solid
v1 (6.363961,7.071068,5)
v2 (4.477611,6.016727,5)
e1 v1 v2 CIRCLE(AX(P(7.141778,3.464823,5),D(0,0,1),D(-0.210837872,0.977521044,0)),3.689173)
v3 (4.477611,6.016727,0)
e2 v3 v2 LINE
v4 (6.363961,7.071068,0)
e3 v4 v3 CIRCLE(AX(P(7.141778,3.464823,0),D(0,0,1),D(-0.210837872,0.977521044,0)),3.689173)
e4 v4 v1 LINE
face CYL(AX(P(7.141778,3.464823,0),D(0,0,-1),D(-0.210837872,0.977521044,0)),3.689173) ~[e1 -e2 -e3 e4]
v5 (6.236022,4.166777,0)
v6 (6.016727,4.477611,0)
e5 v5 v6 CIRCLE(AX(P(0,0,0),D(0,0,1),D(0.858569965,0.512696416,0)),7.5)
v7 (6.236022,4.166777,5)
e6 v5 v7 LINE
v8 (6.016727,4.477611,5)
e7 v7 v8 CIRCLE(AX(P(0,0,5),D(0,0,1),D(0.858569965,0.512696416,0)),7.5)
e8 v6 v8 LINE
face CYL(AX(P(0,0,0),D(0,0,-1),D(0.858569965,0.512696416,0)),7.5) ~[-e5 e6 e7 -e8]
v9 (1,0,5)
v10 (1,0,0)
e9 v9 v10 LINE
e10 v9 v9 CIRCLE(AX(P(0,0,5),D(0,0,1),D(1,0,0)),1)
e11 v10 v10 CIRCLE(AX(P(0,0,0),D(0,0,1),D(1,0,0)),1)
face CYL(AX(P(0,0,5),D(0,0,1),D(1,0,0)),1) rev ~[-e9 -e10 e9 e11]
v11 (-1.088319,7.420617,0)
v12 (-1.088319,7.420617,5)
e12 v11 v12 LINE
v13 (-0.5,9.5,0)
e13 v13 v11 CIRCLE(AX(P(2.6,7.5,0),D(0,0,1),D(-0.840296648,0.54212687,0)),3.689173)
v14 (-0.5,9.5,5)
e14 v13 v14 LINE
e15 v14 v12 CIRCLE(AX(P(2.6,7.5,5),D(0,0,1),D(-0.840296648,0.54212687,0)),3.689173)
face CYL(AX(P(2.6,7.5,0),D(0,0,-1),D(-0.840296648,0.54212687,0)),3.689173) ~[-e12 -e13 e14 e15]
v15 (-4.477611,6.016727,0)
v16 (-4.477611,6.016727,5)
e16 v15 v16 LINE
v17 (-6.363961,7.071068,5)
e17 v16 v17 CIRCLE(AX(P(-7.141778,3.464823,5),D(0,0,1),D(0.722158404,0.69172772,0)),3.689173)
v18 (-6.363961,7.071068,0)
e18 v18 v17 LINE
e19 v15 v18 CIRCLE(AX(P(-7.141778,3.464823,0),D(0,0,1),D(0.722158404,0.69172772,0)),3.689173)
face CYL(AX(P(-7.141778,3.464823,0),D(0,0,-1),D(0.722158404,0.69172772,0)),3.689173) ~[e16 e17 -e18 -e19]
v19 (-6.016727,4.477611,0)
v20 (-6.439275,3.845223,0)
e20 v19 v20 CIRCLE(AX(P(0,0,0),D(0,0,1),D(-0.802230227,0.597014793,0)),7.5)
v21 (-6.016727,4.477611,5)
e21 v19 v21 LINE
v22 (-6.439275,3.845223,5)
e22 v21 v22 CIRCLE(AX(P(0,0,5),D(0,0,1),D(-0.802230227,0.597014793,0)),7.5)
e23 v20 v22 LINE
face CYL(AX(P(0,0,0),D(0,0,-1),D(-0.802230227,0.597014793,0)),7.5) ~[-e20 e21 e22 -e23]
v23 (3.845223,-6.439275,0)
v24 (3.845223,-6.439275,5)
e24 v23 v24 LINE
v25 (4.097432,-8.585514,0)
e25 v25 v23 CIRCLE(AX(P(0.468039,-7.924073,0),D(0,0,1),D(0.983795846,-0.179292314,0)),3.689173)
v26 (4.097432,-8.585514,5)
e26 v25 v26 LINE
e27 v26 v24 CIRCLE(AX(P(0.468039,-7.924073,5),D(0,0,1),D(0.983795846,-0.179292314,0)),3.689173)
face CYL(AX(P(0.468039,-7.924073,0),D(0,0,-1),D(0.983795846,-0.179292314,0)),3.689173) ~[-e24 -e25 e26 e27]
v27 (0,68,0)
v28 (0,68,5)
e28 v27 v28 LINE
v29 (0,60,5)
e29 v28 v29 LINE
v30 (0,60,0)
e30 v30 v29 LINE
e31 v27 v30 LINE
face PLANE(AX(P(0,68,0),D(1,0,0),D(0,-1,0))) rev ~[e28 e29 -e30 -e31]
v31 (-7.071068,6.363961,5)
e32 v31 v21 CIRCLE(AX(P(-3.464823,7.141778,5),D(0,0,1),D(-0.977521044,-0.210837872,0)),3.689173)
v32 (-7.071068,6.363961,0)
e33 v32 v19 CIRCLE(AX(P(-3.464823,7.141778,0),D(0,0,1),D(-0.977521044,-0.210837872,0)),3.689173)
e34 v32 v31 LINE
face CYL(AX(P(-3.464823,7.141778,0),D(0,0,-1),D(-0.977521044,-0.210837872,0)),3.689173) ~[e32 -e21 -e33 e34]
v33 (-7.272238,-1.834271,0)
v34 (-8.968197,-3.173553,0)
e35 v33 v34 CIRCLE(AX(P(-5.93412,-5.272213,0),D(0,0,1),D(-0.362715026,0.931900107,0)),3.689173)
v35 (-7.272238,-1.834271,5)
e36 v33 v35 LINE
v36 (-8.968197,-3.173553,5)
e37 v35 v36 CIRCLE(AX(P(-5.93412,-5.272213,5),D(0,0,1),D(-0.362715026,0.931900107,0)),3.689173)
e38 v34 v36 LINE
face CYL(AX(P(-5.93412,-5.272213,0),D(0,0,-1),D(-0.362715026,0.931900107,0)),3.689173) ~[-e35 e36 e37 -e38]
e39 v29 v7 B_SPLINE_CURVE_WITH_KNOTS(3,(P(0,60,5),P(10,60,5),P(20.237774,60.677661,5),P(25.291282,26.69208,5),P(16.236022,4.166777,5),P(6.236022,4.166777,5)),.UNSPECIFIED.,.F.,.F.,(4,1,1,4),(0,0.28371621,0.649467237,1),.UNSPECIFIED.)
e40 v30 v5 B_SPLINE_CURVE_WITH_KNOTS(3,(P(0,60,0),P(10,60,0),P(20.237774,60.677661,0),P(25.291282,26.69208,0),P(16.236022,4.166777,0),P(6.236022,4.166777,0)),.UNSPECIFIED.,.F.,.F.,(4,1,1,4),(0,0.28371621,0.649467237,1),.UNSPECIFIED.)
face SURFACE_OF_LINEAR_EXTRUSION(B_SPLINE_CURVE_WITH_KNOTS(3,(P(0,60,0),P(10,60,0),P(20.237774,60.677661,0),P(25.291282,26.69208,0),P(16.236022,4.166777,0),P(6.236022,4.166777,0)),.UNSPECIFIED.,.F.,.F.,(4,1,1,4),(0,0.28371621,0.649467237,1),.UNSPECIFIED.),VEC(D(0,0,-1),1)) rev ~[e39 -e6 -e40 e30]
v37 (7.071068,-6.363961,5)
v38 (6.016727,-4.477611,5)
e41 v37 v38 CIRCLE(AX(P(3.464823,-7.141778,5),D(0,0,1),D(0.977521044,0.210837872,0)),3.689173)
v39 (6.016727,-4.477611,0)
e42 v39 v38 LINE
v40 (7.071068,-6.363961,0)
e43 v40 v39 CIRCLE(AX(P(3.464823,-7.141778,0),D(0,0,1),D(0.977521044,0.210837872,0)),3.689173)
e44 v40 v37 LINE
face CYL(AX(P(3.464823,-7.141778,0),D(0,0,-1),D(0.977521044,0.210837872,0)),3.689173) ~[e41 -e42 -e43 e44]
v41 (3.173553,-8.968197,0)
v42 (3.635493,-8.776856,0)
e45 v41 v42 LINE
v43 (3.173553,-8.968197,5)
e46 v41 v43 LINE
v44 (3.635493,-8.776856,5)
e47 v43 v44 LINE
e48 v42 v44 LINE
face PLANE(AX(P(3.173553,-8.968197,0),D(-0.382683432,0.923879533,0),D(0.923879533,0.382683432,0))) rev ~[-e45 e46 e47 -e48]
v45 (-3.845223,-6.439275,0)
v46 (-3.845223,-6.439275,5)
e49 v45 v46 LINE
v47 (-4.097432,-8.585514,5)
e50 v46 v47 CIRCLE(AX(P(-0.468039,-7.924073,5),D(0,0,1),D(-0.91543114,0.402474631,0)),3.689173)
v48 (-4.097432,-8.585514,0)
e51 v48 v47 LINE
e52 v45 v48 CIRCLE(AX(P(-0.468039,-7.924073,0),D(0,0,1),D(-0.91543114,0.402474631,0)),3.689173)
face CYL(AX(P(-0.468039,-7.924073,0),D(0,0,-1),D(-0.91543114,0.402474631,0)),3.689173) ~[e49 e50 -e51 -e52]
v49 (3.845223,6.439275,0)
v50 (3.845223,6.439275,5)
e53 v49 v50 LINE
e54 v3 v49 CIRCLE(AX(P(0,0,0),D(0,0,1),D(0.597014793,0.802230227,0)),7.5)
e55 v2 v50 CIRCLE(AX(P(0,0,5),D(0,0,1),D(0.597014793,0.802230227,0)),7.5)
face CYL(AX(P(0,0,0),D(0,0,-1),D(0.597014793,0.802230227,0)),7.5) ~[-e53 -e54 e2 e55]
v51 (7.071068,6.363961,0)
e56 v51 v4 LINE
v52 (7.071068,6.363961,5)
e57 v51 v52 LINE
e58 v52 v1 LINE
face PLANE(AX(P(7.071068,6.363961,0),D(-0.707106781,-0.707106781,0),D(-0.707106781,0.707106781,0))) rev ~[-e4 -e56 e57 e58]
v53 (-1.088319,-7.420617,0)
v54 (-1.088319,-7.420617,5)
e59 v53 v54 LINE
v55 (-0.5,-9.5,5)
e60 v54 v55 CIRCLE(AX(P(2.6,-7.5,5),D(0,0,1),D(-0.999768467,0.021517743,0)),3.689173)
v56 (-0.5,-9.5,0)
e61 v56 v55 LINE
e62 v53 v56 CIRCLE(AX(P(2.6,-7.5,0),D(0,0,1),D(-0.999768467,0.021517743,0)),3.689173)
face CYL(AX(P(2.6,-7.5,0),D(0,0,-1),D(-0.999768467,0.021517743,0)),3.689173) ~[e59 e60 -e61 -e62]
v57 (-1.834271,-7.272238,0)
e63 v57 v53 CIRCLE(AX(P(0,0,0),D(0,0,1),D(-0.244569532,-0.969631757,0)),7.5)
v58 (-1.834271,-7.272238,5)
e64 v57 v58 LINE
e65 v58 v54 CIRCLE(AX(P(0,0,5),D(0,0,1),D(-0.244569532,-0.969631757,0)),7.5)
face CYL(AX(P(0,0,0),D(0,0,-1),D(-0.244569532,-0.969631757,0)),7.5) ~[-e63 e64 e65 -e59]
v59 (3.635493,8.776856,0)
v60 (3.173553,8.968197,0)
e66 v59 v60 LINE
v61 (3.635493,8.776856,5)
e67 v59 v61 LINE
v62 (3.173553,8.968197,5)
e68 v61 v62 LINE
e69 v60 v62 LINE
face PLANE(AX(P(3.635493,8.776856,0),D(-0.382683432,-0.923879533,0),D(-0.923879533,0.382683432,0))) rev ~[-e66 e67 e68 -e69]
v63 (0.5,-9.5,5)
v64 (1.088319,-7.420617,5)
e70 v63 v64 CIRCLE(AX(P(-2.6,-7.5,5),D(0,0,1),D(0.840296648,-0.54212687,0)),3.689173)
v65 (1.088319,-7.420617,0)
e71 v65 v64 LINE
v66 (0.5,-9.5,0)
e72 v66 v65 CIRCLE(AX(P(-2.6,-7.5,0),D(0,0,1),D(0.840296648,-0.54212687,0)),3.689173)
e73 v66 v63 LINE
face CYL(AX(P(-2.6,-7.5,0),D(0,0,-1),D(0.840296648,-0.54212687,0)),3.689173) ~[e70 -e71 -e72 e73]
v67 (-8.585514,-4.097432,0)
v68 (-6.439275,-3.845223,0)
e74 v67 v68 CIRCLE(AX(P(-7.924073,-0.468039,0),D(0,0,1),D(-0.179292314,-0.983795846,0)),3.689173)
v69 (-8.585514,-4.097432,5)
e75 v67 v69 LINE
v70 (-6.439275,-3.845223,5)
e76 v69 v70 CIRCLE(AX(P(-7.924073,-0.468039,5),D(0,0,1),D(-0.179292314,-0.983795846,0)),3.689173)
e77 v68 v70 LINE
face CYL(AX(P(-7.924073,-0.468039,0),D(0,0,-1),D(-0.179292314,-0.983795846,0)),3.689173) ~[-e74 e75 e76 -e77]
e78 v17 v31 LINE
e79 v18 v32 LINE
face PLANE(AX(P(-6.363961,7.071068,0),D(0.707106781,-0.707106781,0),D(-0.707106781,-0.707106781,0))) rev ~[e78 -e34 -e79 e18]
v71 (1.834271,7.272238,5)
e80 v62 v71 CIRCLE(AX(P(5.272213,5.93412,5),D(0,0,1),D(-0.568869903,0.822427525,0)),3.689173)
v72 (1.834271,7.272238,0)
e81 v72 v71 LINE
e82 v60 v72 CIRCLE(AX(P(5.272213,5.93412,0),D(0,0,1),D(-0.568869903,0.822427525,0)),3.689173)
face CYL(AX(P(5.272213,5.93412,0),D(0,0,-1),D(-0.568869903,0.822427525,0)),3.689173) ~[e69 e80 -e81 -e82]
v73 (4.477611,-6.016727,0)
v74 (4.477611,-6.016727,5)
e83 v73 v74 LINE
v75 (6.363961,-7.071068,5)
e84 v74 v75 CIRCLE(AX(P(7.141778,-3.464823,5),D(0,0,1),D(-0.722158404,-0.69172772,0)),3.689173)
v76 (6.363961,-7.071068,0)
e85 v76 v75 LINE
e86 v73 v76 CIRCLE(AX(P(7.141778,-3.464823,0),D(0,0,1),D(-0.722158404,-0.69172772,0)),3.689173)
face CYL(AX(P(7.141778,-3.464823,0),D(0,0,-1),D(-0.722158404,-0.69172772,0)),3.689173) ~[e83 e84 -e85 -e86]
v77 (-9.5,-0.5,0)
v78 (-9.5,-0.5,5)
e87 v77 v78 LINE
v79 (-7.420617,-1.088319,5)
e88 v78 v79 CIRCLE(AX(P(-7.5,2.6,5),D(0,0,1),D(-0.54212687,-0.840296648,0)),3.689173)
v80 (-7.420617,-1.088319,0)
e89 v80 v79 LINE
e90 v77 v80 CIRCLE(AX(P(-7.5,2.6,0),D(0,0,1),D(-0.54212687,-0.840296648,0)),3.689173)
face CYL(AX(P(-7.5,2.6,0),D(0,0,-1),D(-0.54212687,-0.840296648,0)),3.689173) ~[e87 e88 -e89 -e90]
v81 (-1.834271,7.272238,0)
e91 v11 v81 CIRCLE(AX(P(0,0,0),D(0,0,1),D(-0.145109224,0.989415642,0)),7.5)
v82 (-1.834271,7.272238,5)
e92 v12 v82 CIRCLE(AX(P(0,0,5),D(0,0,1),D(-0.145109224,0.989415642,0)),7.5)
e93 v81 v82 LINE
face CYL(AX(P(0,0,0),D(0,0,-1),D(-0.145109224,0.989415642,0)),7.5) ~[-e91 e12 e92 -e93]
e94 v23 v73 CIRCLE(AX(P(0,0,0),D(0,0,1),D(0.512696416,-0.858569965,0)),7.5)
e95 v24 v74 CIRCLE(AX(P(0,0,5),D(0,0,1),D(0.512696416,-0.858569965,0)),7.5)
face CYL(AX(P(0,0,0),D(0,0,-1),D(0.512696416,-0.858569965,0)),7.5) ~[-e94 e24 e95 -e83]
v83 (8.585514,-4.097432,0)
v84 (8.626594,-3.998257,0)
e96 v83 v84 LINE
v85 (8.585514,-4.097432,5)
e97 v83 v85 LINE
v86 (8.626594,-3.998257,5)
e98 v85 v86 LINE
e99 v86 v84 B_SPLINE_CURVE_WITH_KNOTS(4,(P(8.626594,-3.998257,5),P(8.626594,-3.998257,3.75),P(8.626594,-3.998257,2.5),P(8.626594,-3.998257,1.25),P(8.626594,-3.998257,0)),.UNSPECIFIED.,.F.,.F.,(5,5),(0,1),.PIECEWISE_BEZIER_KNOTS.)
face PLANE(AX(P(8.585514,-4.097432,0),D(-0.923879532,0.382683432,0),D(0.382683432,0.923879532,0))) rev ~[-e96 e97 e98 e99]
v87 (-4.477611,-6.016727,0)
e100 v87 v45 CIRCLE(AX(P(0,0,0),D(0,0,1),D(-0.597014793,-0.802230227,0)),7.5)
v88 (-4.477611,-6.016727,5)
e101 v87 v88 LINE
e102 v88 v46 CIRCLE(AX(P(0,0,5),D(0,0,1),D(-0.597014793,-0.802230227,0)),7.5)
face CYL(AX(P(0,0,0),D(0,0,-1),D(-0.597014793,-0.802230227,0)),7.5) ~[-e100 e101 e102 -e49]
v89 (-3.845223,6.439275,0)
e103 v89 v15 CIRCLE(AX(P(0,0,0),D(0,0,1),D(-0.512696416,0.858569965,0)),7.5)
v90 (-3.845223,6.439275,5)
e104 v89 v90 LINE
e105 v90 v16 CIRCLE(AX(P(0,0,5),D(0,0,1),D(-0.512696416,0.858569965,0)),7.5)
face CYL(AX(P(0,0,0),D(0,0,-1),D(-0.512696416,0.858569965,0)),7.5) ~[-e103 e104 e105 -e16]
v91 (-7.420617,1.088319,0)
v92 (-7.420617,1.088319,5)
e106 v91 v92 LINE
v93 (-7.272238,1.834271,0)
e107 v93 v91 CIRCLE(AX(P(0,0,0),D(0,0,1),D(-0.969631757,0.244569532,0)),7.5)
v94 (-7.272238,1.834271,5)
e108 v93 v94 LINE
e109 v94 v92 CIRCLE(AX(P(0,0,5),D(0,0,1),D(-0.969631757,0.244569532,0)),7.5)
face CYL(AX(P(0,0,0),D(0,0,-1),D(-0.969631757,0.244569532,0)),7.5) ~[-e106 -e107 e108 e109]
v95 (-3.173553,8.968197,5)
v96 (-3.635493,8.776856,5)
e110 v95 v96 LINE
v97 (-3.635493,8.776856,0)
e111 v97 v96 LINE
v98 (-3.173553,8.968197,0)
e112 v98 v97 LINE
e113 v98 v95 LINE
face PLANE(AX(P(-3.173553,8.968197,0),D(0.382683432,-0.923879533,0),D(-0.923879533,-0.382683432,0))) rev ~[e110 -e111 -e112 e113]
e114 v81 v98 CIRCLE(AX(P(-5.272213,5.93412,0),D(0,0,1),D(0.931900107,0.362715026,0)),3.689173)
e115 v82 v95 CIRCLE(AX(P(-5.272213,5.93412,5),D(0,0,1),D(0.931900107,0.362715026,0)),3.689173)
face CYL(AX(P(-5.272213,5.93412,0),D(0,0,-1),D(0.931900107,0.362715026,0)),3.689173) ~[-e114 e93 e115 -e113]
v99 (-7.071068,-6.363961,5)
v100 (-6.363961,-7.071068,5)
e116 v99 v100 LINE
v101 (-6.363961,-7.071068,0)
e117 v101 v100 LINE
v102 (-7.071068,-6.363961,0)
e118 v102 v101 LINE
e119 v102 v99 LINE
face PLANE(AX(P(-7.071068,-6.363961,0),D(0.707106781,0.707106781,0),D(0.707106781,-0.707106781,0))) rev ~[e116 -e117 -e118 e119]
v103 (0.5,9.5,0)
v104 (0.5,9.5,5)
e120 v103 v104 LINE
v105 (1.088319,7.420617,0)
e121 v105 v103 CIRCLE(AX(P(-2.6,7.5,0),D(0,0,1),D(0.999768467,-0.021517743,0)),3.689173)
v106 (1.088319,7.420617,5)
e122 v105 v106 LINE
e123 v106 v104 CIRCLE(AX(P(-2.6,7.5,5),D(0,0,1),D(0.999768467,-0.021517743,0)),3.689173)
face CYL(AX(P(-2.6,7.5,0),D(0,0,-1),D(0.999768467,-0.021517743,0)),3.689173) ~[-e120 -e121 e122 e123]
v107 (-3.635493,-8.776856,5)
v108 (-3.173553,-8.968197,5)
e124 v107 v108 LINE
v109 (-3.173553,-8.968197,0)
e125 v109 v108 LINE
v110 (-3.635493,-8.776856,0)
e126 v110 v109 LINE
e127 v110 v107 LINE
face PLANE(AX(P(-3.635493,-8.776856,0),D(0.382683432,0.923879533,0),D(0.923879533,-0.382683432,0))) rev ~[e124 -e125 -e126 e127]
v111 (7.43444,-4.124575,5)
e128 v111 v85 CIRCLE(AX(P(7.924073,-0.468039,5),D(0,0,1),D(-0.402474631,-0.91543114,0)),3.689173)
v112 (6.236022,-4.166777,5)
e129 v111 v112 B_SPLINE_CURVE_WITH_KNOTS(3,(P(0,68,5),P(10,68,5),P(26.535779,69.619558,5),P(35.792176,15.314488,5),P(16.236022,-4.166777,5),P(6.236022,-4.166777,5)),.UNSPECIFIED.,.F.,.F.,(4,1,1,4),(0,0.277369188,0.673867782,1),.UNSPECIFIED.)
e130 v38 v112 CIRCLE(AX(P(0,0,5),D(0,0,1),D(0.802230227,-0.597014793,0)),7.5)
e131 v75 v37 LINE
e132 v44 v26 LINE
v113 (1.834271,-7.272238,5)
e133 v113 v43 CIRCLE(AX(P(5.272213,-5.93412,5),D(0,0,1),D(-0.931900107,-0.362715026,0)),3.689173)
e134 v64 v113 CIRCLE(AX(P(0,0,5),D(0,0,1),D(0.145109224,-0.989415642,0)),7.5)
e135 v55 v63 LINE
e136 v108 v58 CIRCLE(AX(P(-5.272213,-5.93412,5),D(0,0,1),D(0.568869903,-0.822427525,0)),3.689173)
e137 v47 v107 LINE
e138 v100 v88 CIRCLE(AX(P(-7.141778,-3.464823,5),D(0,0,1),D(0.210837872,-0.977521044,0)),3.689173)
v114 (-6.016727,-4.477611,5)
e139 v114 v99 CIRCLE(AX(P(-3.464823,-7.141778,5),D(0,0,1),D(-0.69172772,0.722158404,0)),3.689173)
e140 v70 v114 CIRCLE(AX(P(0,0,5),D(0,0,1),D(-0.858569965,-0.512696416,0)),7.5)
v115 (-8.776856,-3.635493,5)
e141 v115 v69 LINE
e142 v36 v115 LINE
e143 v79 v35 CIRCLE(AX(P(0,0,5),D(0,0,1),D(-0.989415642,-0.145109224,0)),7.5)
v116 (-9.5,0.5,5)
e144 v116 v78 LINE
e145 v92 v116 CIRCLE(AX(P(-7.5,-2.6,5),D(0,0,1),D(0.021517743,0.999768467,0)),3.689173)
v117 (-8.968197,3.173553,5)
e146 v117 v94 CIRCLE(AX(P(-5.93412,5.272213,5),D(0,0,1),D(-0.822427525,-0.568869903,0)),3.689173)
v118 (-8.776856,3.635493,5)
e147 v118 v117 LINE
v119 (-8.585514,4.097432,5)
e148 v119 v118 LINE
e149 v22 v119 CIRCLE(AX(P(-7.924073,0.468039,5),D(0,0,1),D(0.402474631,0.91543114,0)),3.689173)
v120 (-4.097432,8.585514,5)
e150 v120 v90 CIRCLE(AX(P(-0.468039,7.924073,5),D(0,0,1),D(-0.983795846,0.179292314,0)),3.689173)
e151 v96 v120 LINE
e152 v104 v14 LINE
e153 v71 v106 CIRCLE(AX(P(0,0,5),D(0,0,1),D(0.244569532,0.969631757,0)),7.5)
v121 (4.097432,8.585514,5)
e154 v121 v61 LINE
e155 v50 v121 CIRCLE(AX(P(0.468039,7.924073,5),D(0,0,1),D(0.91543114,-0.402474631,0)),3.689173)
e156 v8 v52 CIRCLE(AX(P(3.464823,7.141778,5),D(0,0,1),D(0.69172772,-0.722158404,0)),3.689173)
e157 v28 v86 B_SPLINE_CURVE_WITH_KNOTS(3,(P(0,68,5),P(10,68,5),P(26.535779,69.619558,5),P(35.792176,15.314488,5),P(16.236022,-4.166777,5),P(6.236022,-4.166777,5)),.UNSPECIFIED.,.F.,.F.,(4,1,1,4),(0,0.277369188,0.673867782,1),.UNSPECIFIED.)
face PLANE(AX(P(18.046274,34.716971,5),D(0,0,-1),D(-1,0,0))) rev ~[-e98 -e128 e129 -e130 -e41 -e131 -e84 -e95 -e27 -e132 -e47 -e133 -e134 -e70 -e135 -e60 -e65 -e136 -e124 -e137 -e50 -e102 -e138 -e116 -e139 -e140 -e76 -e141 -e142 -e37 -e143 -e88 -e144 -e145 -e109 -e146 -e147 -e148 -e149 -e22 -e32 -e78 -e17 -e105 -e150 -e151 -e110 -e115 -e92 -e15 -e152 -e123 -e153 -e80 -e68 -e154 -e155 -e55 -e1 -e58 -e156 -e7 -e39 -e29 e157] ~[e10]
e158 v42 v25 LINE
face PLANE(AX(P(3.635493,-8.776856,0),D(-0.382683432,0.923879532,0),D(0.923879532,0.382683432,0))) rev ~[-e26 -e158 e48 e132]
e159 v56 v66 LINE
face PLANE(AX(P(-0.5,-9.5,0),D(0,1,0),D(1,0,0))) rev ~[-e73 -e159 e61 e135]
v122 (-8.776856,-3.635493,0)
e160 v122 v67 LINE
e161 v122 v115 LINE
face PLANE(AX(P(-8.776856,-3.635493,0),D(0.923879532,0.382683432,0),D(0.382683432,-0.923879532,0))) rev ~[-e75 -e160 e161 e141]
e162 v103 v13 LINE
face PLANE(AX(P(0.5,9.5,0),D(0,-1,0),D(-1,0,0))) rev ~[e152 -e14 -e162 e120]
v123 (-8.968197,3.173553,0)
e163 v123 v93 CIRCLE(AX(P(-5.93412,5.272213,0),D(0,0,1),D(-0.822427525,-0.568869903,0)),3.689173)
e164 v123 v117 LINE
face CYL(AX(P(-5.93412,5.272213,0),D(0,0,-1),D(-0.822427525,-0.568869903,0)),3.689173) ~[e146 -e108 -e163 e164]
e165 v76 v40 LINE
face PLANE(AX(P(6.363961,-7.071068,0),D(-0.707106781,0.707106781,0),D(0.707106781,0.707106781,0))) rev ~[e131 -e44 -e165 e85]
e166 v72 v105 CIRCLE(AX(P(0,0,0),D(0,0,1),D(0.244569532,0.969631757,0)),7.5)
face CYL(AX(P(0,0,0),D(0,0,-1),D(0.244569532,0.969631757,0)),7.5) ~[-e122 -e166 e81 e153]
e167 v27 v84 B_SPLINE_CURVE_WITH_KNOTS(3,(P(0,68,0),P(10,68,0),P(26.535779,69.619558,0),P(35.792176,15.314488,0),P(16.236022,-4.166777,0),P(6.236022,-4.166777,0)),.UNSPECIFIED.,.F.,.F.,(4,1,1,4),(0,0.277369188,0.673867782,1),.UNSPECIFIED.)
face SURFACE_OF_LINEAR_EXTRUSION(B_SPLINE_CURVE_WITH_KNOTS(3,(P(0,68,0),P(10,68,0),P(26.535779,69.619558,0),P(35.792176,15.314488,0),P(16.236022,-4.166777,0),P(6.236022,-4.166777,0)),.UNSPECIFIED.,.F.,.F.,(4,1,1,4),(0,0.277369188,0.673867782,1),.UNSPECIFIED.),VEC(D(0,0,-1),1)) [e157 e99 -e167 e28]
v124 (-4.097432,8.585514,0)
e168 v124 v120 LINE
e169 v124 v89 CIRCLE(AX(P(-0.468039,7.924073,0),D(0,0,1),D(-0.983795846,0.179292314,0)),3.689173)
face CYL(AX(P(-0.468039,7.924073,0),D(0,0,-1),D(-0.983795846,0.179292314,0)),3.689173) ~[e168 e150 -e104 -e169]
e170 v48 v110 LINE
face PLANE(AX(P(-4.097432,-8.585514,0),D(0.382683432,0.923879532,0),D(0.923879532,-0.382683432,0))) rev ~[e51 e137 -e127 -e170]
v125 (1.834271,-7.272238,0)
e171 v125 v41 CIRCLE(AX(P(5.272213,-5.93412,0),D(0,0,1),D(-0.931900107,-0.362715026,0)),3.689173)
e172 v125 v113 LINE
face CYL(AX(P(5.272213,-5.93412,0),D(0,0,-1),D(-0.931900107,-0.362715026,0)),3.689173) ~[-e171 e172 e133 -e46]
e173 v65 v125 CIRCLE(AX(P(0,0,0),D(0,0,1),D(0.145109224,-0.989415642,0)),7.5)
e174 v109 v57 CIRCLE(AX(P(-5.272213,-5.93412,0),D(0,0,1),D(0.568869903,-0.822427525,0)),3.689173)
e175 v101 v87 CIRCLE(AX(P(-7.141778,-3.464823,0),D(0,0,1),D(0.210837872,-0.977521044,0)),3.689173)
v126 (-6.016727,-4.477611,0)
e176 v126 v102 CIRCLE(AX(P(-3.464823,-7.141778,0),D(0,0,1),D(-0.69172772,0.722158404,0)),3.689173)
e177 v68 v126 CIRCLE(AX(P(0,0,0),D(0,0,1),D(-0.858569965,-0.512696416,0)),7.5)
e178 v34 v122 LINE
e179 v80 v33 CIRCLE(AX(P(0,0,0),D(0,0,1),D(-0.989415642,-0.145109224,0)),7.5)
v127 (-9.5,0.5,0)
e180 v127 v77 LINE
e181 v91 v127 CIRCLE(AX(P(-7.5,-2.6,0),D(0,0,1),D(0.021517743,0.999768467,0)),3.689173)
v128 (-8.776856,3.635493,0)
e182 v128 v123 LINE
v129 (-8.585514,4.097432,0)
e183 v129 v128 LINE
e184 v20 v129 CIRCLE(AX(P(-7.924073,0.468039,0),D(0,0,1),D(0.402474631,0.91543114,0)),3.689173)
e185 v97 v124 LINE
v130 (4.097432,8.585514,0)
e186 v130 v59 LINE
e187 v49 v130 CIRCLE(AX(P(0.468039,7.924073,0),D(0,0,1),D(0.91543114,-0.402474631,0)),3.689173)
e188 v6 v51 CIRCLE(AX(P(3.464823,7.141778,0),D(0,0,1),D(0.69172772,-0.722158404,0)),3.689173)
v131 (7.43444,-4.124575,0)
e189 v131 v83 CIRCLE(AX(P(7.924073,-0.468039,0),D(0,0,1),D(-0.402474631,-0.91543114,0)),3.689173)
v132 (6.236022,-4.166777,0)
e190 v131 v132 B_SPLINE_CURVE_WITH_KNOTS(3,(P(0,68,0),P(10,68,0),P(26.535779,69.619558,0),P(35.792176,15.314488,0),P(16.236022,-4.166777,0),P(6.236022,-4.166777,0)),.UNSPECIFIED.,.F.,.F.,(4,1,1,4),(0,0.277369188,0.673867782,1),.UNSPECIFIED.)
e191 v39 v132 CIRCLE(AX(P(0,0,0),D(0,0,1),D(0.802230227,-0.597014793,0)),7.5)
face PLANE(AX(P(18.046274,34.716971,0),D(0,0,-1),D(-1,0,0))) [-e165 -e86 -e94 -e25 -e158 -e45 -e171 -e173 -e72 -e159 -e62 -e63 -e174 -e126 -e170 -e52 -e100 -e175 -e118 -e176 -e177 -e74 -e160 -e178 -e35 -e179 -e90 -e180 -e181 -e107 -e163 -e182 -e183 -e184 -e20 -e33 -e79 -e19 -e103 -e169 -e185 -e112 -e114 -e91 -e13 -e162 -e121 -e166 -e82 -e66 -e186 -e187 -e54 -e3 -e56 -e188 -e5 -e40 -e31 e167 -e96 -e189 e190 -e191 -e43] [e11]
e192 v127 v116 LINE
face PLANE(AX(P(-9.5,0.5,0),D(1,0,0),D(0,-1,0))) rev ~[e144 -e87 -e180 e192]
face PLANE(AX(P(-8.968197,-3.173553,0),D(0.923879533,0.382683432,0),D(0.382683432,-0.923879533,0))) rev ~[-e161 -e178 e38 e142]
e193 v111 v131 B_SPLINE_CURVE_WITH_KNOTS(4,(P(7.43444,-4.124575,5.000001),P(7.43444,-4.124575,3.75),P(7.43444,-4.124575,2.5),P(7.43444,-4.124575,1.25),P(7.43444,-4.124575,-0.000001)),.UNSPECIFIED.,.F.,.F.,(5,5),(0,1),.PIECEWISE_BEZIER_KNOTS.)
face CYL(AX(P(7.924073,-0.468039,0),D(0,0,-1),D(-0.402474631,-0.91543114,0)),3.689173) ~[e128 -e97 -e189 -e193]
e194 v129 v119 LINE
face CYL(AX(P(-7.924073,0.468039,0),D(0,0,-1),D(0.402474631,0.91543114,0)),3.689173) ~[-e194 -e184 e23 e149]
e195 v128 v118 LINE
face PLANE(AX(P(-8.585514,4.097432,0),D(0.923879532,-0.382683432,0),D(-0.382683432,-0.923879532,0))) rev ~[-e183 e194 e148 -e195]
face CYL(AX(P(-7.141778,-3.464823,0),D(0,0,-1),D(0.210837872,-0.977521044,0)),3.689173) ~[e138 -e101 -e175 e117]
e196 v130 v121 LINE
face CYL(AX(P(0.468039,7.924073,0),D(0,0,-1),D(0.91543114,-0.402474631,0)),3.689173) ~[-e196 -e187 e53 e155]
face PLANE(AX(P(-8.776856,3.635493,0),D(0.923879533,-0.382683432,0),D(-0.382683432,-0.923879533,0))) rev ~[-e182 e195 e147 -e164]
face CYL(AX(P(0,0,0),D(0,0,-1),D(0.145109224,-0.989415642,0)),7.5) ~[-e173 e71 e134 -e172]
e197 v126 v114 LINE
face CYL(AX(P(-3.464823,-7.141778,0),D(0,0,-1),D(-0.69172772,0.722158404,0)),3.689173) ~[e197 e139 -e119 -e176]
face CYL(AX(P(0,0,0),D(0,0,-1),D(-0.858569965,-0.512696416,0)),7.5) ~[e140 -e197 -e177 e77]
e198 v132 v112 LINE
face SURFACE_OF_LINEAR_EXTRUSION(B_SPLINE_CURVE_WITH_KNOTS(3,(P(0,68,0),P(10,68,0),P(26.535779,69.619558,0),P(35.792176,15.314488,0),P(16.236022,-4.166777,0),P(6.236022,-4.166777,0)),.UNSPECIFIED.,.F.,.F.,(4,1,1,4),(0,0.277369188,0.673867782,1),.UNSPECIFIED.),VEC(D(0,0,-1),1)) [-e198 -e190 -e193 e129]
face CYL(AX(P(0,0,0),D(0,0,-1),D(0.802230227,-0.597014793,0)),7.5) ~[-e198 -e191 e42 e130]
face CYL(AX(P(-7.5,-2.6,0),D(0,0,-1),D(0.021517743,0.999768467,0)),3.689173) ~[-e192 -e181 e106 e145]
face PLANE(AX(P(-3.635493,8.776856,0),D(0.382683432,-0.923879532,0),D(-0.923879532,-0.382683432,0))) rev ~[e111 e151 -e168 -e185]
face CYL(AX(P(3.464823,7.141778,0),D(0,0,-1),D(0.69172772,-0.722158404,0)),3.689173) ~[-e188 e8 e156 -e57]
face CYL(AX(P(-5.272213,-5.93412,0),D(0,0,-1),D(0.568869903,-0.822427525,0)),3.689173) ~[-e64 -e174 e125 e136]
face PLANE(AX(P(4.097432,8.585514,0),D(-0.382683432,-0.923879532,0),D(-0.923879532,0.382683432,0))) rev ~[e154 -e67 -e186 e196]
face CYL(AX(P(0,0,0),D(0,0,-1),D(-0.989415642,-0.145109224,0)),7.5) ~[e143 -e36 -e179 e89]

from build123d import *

# Parameters (mm, degrees)
F1_DEPTH = 5
F2_R     = 1
F3_DEPTH = 5.001
F5_DEPTH = 5


with BuildPart() as f1:
    # F0 (on Top) → F1 (new body)
    with BuildSketch(Plane.XY):
        with BuildLine():
            ThreePointArc((7.4206173165, -1.0883191822), (7.4801280027, -0.5456052265), (7.5, 0))
            ThreePointArc((7.5, 0), (7.4801280027, 0.5456052265), (7.4206173165, 1.0883191822))
            ThreePointArc((7.4206173165, 1.0883191822), (7.355889603, 1.4631774151), (7.2722381774, 1.8342714877))
            ThreePointArc((7.2722381774, 1.8342714877), (6.9290964938, 2.8701257427), (6.4392747372, 3.8452231222))
            ThreePointArc((6.4392747372, 3.8452231222), (6.2360220923, 4.1667767476), (6.0167266989, 4.4776109513))
            ThreePointArc((6.0167266989, 4.4776109513), (5.3033008589, 5.3033008589), (4.4776109513, 6.0167266989))
            ThreePointArc((4.4776109513, 6.0167266989), (4.1667767476, 6.2360220923), (3.8452231222, 6.4392747372))
            ThreePointArc((3.8452231222, 6.4392747372), (2.8701257427, 6.9290964938), (1.8342714877, 7.2722381774))
            ThreePointArc((1.8342714877, 7.2722381774), (1.4631774151, 7.355889603), (1.0883191822, 7.4206173165))
            ThreePointArc((1.0883191822, 7.4206173165), (0, 7.5), (-1.0883191822, 7.4206173165))
            ThreePointArc((-1.0883191822, 7.4206173165), (-1.4631774151, 7.355889603), (-1.8342714877, 7.2722381774))
            ThreePointArc((-1.8342714877, 7.2722381774), (-2.8701257427, 6.9290964938), (-3.8452231222, 6.4392747372))
            ThreePointArc((-3.8452231222, 6.4392747372), (-4.1667767476, 6.2360220923), (-4.4776109513, 6.0167266989))
            ThreePointArc((-4.4776109513, 6.0167266989), (-5.3033008589, 5.3033008589), (-6.0167266989, 4.4776109513))
            ThreePointArc((-6.0167266989, 4.4776109513), (-6.2360220923, 4.1667767476), (-6.4392747372, 3.8452231222))
            ThreePointArc((-6.4392747372, 3.8452231222), (-6.9290964938, 2.8701257427), (-7.2722381774, 1.8342714877))
            ThreePointArc((-7.2722381774, 1.8342714877), (-7.355889603, 1.4631774151), (-7.4206173165, 1.0883191822))
            ThreePointArc((-7.4206173165, 1.0883191822), (-7.5, 0), (-7.4206173165, -1.0883191822))
            ThreePointArc((-7.4206173165, -1.0883191822), (-7.355889603, -1.4631774151), (-7.2722381774, -1.8342714877))
            ThreePointArc((-7.2722381774, -1.8342714877), (-6.9290964938, -2.8701257427), (-6.4392747372, -3.8452231222))
            ThreePointArc((-6.4392747372, -3.8452231222), (-6.2360220923, -4.1667767476), (-6.0167266989, -4.4776109513))
            ThreePointArc((-6.0167266989, -4.4776109513), (-5.3033008589, -5.3033008589), (-4.4776109513, -6.0167266989))
            ThreePointArc((-4.4776109513, -6.0167266989), (-4.1667767476, -6.2360220923), (-3.8452231222, -6.4392747372))
            ThreePointArc((-3.8452231222, -6.4392747372), (-2.8701257427, -6.9290964938), (-1.8342714877, -7.2722381774))
            ThreePointArc((-1.8342714877, -7.2722381774), (-1.4631774151, -7.355889603), (-1.0883191822, -7.4206173165))
            ThreePointArc((-1.0883191822, -7.4206173165), (0, -7.5), (1.0883191822, -7.4206173165))
            ThreePointArc((1.0883191822, -7.4206173165), (1.4631774151, -7.355889603), (1.8342714877, -7.2722381774))
            ThreePointArc((1.8342714877, -7.2722381774), (2.8701257427, -6.9290964938), (3.8452231222, -6.4392747372))
            ThreePointArc((3.8452231222, -6.4392747372), (4.1667767476, -6.2360220923), (4.4776109513, -6.0167266989))
            ThreePointArc((4.4776109513, -6.0167266989), (5.3033008589, -5.3033008589), (6.0167266989, -4.4776109513))
            ThreePointArc((6.0167266989, -4.4776109513), (6.2360220923, -4.1667767476), (6.4392747372, -3.8452231222))
            ThreePointArc((6.4392747372, -3.8452231222), (6.9290964938, -2.8701257427), (7.2722381774, -1.8342714877))
            ThreePointArc((7.2722381774, -1.8342714877), (7.355889603, -1.4631774151), (7.4206173165, -1.0883191822))
        make_face()
        with BuildLine():
            ThreePointArc((7.4206173165, 1.0883191822), (7.4801280027, 0.5456052265), (7.5, 0))
            ThreePointArc((7.5, 0), (7.4801280027, -0.5456052265), (7.4206173165, -1.0883191822))
            ThreePointArc((7.4206173165, -1.0883191822), (8.5043518229, -0.9498278009), (9.5, -0.5))
            Line((9.5, -0.5), (9.5, 0))
            Line((9.5, 0), (9.5, 0.5))
            ThreePointArc((9.5, 0.5), (8.5043518229, 0.9498278009), (7.4206173165, 1.0883191822))
        make_face()
        with BuildLine():
            ThreePointArc((6.4392747372, 3.8452231222), (6.9290964938, 2.8701257427), (7.2722381774, 1.8342714877))
            ThreePointArc((7.2722381774, 1.8342714877), (8.2204799494, 2.376948081), (8.968197275, 3.1735528412))
            Line((8.968197275, 3.1735528412), (8.7768555589, 3.6354926075))
            Line((8.7768555589, 3.6354926075), (8.5855138427, 4.0974323737))
            ThreePointArc((8.5855138427, 4.0974323737), (7.4935132234, 4.1320010103), (6.4392747372, 3.8452231222))
        make_face()
        with BuildLine():
            ThreePointArc((8.968197275, -3.1735528412), (8.2204799494, -2.376948081), (7.2722381774, -1.8342714877))
            ThreePointArc((7.2722381774, -1.8342714877), (6.9290964938, -2.8701257427), (6.4392747372, -3.8452231222))
            ThreePointArc((6.4392747372, -3.8452231222), (7.4935132234, -4.1320010103), (8.5855138427, -4.0974323737))
            Line((8.5855138427, -4.0974323737), (8.7768555589, -3.6354926075))
            Line((8.7768555589, -3.6354926075), (8.968197275, -3.1735528412))
        make_face()
        with BuildLine():
            ThreePointArc((4.4776109513, 6.0167266989), (5.3033008589, 5.3033008589), (6.0167266989, 4.4776109513))
            ThreePointArc((6.0167266989, 4.4776109513), (6.6851145225, 5.3418551646), (7.0710678119, 6.3639610307))
            Line((7.0710678119, 6.3639610307), (6.7175144213, 6.7175144213))
            Line((6.7175144213, 6.7175144213), (6.3639610307, 7.0710678119))
            ThreePointArc((6.3639610307, 7.0710678119), (5.3418551646, 6.6851145225), (4.4776109513, 6.0167266989))
        make_face()
        with BuildLine():
            ThreePointArc((7.0710678119, -6.3639610307), (6.6851145225, -5.3418551646), (6.0167266989, -4.4776109513))
            ThreePointArc((6.0167266989, -4.4776109513), (5.3033008589, -5.3033008589), (4.4776109513, -6.0167266989))
            ThreePointArc((4.4776109513, -6.0167266989), (5.3418551646, -6.6851145225), (6.3639610307, -7.0710678119))
            Line((6.3639610307, -7.0710678119), (6.7175144213, -6.7175144213))
            Line((6.7175144213, -6.7175144213), (7.0710678119, -6.3639610307))
        make_face()
        with BuildLine():
            ThreePointArc((1.8342714877, 7.2722381774), (2.8701257427, 6.9290964938), (3.8452231222, 6.4392747372))
            ThreePointArc((3.8452231222, 6.4392747372), (4.1320010103, 7.4935132234), (4.0974323737, 8.5855138427))
            Line((4.0974323737, 8.5855138427), (3.6354926075, 8.7768555589))
            Line((3.6354926075, 8.7768555589), (3.1735528412, 8.968197275))
            ThreePointArc((3.1735528412, 8.968197275), (2.376948081, 8.2204799494), (1.8342714877, 7.2722381774))
        make_face()
        with BuildLine():
            ThreePointArc((4.0974323737, -8.5855138427), (4.1320010103, -7.4935132234), (3.8452231222, -6.4392747372))
            ThreePointArc((3.8452231222, -6.4392747372), (2.8701257427, -6.9290964938), (1.8342714877, -7.2722381774))
            ThreePointArc((1.8342714877, -7.2722381774), (2.376948081, -8.2204799494), (3.1735528412, -8.968197275))
            Line((3.1735528412, -8.968197275), (3.6354926075, -8.7768555589))
            Line((3.6354926075, -8.7768555589), (4.0974323737, -8.5855138427))
        make_face()
        with BuildLine():
            ThreePointArc((-1.0883191822, 7.4206173165), (0, 7.5), (1.0883191822, 7.4206173165))
            ThreePointArc((1.0883191822, 7.4206173165), (0.9498278009, 8.5043518229), (0.5, 9.5))
            Line((0.5, 9.5), (0, 9.5))
            Line((0, 9.5), (-0.5, 9.5))
            ThreePointArc((-0.5, 9.5), (-0.9498278009, 8.5043518229), (-1.0883191822, 7.4206173165))
        make_face()
        with BuildLine():
            ThreePointArc((0.5, -9.5), (0.9498278009, -8.5043518229), (1.0883191822, -7.4206173165))
            ThreePointArc((1.0883191822, -7.4206173165), (0, -7.5), (-1.0883191822, -7.4206173165))
            ThreePointArc((-1.0883191822, -7.4206173165), (-0.9498278009, -8.5043518229), (-0.5, -9.5))
            Line((-0.5, -9.5), (0, -9.5))
            Line((0, -9.5), (0.5, -9.5))
        make_face()
        with BuildLine():
            ThreePointArc((-3.8452231222, 6.4392747372), (-2.8701257427, 6.9290964938), (-1.8342714877, 7.2722381774))
            ThreePointArc((-1.8342714877, 7.2722381774), (-2.376948081, 8.2204799494), (-3.1735528412, 8.968197275))
            Line((-3.1735528412, 8.968197275), (-3.6354926075, 8.7768555589))
            Line((-3.6354926075, 8.7768555589), (-4.0974323737, 8.5855138427))
            ThreePointArc((-4.0974323737, 8.5855138427), (-4.1320010103, 7.4935132234), (-3.8452231222, 6.4392747372))
        make_face()
        with BuildLine():
            ThreePointArc((-3.1735528412, -8.968197275), (-2.376948081, -8.2204799494), (-1.8342714877, -7.2722381774))
            ThreePointArc((-1.8342714877, -7.2722381774), (-2.8701257427, -6.9290964938), (-3.8452231222, -6.4392747372))
            ThreePointArc((-3.8452231222, -6.4392747372), (-4.1320010103, -7.4935132234), (-4.0974323737, -8.5855138427))
            Line((-4.0974323737, -8.5855138427), (-3.6354926075, -8.7768555589))
            Line((-3.6354926075, -8.7768555589), (-3.1735528412, -8.968197275))
        make_face()
        with BuildLine():
            ThreePointArc((-6.0167266989, 4.4776109513), (-5.3033008589, 5.3033008589), (-4.4776109513, 6.0167266989))
            ThreePointArc((-4.4776109513, 6.0167266989), (-5.3418551646, 6.6851145225), (-6.3639610307, 7.0710678119))
            Line((-6.3639610307, 7.0710678119), (-6.7175144213, 6.7175144213))
            Line((-6.7175144213, 6.7175144213), (-7.0710678119, 6.3639610307))
            ThreePointArc((-7.0710678119, 6.3639610307), (-6.6851145225, 5.3418551646), (-6.0167266989, 4.4776109513))
        make_face()
        with BuildLine():
            ThreePointArc((-6.3639610307, -7.0710678119), (-5.3418551646, -6.6851145225), (-4.4776109513, -6.0167266989))
            ThreePointArc((-4.4776109513, -6.0167266989), (-5.3033008589, -5.3033008589), (-6.0167266989, -4.4776109513))
            ThreePointArc((-6.0167266989, -4.4776109513), (-6.6851145225, -5.3418551646), (-7.0710678119, -6.3639610307))
            Line((-7.0710678119, -6.3639610307), (-6.7175144213, -6.7175144213))
            Line((-6.7175144213, -6.7175144213), (-6.3639610307, -7.0710678119))
        make_face()
        with BuildLine():
            ThreePointArc((-7.2722381774, 1.8342714877), (-6.9290964938, 2.8701257427), (-6.4392747372, 3.8452231222))
            ThreePointArc((-6.4392747372, 3.8452231222), (-7.4935132234, 4.1320010103), (-8.5855138427, 4.0974323737))
            Line((-8.5855138427, 4.0974323737), (-8.7768555589, 3.6354926075))
            Line((-8.7768555589, 3.6354926075), (-8.968197275, 3.1735528412))
            ThreePointArc((-8.968197275, 3.1735528412), (-8.2204799494, 2.376948081), (-7.2722381774, 1.8342714877))
        make_face()
        with BuildLine():
            ThreePointArc((-8.5855138427, -4.0974323737), (-7.4935132234, -4.1320010103), (-6.4392747372, -3.8452231222))
            ThreePointArc((-6.4392747372, -3.8452231222), (-6.9290964938, -2.8701257427), (-7.2722381774, -1.8342714877))
            ThreePointArc((-7.2722381774, -1.8342714877), (-8.2204799494, -2.376948081), (-8.968197275, -3.1735528412))
            Line((-8.968197275, -3.1735528412), (-8.7768555589, -3.6354926075))
            Line((-8.7768555589, -3.6354926075), (-8.5855138427, -4.0974323737))
        make_face()
        with BuildLine():
            ThreePointArc((-7.4206173165, -1.0883191822), (-7.5, 0), (-7.4206173165, 1.0883191822))
            ThreePointArc((-7.4206173165, 1.0883191822), (-8.5043518229, 0.9498278009), (-9.5, 0.5))
            Line((-9.5, 0.5), (-9.5, 0))
            Line((-9.5, 0), (-9.5, -0.5))
            ThreePointArc((-9.5, -0.5), (-8.5043518229, -0.9498278009), (-7.4206173165, -1.0883191822))
        make_face()
    extrude(amount=F1_DEPTH)

    # F2 (on face) → F3 (cut, through all)
    with BuildSketch(Plane.XY.offset(5)):
        Circle(F2_R)
    extrude(amount=-F3_DEPTH, mode=Mode.SUBTRACT)

    # F4 (on Top) → F5 (join, through all)
    with BuildSketch(Plane.XY):
        with BuildLine():
            add(Edge.make_bspline(
                [(0, 68), (10, 68), (26.5357793377, 69.6195584207), (35.7921763751, 15.3144879989), (16.2360220923, -4.1667767476), (6.2360220923, -4.1667767476)],
                knots=[0, 0, 0, 0, 0.2773691883, 0.6738677823, 1, 1, 1, 1], degree=3))
            Line((0, 68), (0, 60))
            add(Edge.make_bspline(
                [(0, 60), (10, 60), (20.2377735158, 60.6776605511), (25.2912821546, 26.6920800115), (16.2360220923, 4.1667767476), (6.2360220923, 4.1667767476)],
                knots=[0, 0, 0, 0, 0.28371621, 0.6494672366, 1, 1, 1, 1], degree=3))
            Line((6.2360220923, 4.1667767476), (6.2360220923, -4.1667767476))
        make_face()
    extrude(amount=F5_DEPTH)


solid = f1.part
